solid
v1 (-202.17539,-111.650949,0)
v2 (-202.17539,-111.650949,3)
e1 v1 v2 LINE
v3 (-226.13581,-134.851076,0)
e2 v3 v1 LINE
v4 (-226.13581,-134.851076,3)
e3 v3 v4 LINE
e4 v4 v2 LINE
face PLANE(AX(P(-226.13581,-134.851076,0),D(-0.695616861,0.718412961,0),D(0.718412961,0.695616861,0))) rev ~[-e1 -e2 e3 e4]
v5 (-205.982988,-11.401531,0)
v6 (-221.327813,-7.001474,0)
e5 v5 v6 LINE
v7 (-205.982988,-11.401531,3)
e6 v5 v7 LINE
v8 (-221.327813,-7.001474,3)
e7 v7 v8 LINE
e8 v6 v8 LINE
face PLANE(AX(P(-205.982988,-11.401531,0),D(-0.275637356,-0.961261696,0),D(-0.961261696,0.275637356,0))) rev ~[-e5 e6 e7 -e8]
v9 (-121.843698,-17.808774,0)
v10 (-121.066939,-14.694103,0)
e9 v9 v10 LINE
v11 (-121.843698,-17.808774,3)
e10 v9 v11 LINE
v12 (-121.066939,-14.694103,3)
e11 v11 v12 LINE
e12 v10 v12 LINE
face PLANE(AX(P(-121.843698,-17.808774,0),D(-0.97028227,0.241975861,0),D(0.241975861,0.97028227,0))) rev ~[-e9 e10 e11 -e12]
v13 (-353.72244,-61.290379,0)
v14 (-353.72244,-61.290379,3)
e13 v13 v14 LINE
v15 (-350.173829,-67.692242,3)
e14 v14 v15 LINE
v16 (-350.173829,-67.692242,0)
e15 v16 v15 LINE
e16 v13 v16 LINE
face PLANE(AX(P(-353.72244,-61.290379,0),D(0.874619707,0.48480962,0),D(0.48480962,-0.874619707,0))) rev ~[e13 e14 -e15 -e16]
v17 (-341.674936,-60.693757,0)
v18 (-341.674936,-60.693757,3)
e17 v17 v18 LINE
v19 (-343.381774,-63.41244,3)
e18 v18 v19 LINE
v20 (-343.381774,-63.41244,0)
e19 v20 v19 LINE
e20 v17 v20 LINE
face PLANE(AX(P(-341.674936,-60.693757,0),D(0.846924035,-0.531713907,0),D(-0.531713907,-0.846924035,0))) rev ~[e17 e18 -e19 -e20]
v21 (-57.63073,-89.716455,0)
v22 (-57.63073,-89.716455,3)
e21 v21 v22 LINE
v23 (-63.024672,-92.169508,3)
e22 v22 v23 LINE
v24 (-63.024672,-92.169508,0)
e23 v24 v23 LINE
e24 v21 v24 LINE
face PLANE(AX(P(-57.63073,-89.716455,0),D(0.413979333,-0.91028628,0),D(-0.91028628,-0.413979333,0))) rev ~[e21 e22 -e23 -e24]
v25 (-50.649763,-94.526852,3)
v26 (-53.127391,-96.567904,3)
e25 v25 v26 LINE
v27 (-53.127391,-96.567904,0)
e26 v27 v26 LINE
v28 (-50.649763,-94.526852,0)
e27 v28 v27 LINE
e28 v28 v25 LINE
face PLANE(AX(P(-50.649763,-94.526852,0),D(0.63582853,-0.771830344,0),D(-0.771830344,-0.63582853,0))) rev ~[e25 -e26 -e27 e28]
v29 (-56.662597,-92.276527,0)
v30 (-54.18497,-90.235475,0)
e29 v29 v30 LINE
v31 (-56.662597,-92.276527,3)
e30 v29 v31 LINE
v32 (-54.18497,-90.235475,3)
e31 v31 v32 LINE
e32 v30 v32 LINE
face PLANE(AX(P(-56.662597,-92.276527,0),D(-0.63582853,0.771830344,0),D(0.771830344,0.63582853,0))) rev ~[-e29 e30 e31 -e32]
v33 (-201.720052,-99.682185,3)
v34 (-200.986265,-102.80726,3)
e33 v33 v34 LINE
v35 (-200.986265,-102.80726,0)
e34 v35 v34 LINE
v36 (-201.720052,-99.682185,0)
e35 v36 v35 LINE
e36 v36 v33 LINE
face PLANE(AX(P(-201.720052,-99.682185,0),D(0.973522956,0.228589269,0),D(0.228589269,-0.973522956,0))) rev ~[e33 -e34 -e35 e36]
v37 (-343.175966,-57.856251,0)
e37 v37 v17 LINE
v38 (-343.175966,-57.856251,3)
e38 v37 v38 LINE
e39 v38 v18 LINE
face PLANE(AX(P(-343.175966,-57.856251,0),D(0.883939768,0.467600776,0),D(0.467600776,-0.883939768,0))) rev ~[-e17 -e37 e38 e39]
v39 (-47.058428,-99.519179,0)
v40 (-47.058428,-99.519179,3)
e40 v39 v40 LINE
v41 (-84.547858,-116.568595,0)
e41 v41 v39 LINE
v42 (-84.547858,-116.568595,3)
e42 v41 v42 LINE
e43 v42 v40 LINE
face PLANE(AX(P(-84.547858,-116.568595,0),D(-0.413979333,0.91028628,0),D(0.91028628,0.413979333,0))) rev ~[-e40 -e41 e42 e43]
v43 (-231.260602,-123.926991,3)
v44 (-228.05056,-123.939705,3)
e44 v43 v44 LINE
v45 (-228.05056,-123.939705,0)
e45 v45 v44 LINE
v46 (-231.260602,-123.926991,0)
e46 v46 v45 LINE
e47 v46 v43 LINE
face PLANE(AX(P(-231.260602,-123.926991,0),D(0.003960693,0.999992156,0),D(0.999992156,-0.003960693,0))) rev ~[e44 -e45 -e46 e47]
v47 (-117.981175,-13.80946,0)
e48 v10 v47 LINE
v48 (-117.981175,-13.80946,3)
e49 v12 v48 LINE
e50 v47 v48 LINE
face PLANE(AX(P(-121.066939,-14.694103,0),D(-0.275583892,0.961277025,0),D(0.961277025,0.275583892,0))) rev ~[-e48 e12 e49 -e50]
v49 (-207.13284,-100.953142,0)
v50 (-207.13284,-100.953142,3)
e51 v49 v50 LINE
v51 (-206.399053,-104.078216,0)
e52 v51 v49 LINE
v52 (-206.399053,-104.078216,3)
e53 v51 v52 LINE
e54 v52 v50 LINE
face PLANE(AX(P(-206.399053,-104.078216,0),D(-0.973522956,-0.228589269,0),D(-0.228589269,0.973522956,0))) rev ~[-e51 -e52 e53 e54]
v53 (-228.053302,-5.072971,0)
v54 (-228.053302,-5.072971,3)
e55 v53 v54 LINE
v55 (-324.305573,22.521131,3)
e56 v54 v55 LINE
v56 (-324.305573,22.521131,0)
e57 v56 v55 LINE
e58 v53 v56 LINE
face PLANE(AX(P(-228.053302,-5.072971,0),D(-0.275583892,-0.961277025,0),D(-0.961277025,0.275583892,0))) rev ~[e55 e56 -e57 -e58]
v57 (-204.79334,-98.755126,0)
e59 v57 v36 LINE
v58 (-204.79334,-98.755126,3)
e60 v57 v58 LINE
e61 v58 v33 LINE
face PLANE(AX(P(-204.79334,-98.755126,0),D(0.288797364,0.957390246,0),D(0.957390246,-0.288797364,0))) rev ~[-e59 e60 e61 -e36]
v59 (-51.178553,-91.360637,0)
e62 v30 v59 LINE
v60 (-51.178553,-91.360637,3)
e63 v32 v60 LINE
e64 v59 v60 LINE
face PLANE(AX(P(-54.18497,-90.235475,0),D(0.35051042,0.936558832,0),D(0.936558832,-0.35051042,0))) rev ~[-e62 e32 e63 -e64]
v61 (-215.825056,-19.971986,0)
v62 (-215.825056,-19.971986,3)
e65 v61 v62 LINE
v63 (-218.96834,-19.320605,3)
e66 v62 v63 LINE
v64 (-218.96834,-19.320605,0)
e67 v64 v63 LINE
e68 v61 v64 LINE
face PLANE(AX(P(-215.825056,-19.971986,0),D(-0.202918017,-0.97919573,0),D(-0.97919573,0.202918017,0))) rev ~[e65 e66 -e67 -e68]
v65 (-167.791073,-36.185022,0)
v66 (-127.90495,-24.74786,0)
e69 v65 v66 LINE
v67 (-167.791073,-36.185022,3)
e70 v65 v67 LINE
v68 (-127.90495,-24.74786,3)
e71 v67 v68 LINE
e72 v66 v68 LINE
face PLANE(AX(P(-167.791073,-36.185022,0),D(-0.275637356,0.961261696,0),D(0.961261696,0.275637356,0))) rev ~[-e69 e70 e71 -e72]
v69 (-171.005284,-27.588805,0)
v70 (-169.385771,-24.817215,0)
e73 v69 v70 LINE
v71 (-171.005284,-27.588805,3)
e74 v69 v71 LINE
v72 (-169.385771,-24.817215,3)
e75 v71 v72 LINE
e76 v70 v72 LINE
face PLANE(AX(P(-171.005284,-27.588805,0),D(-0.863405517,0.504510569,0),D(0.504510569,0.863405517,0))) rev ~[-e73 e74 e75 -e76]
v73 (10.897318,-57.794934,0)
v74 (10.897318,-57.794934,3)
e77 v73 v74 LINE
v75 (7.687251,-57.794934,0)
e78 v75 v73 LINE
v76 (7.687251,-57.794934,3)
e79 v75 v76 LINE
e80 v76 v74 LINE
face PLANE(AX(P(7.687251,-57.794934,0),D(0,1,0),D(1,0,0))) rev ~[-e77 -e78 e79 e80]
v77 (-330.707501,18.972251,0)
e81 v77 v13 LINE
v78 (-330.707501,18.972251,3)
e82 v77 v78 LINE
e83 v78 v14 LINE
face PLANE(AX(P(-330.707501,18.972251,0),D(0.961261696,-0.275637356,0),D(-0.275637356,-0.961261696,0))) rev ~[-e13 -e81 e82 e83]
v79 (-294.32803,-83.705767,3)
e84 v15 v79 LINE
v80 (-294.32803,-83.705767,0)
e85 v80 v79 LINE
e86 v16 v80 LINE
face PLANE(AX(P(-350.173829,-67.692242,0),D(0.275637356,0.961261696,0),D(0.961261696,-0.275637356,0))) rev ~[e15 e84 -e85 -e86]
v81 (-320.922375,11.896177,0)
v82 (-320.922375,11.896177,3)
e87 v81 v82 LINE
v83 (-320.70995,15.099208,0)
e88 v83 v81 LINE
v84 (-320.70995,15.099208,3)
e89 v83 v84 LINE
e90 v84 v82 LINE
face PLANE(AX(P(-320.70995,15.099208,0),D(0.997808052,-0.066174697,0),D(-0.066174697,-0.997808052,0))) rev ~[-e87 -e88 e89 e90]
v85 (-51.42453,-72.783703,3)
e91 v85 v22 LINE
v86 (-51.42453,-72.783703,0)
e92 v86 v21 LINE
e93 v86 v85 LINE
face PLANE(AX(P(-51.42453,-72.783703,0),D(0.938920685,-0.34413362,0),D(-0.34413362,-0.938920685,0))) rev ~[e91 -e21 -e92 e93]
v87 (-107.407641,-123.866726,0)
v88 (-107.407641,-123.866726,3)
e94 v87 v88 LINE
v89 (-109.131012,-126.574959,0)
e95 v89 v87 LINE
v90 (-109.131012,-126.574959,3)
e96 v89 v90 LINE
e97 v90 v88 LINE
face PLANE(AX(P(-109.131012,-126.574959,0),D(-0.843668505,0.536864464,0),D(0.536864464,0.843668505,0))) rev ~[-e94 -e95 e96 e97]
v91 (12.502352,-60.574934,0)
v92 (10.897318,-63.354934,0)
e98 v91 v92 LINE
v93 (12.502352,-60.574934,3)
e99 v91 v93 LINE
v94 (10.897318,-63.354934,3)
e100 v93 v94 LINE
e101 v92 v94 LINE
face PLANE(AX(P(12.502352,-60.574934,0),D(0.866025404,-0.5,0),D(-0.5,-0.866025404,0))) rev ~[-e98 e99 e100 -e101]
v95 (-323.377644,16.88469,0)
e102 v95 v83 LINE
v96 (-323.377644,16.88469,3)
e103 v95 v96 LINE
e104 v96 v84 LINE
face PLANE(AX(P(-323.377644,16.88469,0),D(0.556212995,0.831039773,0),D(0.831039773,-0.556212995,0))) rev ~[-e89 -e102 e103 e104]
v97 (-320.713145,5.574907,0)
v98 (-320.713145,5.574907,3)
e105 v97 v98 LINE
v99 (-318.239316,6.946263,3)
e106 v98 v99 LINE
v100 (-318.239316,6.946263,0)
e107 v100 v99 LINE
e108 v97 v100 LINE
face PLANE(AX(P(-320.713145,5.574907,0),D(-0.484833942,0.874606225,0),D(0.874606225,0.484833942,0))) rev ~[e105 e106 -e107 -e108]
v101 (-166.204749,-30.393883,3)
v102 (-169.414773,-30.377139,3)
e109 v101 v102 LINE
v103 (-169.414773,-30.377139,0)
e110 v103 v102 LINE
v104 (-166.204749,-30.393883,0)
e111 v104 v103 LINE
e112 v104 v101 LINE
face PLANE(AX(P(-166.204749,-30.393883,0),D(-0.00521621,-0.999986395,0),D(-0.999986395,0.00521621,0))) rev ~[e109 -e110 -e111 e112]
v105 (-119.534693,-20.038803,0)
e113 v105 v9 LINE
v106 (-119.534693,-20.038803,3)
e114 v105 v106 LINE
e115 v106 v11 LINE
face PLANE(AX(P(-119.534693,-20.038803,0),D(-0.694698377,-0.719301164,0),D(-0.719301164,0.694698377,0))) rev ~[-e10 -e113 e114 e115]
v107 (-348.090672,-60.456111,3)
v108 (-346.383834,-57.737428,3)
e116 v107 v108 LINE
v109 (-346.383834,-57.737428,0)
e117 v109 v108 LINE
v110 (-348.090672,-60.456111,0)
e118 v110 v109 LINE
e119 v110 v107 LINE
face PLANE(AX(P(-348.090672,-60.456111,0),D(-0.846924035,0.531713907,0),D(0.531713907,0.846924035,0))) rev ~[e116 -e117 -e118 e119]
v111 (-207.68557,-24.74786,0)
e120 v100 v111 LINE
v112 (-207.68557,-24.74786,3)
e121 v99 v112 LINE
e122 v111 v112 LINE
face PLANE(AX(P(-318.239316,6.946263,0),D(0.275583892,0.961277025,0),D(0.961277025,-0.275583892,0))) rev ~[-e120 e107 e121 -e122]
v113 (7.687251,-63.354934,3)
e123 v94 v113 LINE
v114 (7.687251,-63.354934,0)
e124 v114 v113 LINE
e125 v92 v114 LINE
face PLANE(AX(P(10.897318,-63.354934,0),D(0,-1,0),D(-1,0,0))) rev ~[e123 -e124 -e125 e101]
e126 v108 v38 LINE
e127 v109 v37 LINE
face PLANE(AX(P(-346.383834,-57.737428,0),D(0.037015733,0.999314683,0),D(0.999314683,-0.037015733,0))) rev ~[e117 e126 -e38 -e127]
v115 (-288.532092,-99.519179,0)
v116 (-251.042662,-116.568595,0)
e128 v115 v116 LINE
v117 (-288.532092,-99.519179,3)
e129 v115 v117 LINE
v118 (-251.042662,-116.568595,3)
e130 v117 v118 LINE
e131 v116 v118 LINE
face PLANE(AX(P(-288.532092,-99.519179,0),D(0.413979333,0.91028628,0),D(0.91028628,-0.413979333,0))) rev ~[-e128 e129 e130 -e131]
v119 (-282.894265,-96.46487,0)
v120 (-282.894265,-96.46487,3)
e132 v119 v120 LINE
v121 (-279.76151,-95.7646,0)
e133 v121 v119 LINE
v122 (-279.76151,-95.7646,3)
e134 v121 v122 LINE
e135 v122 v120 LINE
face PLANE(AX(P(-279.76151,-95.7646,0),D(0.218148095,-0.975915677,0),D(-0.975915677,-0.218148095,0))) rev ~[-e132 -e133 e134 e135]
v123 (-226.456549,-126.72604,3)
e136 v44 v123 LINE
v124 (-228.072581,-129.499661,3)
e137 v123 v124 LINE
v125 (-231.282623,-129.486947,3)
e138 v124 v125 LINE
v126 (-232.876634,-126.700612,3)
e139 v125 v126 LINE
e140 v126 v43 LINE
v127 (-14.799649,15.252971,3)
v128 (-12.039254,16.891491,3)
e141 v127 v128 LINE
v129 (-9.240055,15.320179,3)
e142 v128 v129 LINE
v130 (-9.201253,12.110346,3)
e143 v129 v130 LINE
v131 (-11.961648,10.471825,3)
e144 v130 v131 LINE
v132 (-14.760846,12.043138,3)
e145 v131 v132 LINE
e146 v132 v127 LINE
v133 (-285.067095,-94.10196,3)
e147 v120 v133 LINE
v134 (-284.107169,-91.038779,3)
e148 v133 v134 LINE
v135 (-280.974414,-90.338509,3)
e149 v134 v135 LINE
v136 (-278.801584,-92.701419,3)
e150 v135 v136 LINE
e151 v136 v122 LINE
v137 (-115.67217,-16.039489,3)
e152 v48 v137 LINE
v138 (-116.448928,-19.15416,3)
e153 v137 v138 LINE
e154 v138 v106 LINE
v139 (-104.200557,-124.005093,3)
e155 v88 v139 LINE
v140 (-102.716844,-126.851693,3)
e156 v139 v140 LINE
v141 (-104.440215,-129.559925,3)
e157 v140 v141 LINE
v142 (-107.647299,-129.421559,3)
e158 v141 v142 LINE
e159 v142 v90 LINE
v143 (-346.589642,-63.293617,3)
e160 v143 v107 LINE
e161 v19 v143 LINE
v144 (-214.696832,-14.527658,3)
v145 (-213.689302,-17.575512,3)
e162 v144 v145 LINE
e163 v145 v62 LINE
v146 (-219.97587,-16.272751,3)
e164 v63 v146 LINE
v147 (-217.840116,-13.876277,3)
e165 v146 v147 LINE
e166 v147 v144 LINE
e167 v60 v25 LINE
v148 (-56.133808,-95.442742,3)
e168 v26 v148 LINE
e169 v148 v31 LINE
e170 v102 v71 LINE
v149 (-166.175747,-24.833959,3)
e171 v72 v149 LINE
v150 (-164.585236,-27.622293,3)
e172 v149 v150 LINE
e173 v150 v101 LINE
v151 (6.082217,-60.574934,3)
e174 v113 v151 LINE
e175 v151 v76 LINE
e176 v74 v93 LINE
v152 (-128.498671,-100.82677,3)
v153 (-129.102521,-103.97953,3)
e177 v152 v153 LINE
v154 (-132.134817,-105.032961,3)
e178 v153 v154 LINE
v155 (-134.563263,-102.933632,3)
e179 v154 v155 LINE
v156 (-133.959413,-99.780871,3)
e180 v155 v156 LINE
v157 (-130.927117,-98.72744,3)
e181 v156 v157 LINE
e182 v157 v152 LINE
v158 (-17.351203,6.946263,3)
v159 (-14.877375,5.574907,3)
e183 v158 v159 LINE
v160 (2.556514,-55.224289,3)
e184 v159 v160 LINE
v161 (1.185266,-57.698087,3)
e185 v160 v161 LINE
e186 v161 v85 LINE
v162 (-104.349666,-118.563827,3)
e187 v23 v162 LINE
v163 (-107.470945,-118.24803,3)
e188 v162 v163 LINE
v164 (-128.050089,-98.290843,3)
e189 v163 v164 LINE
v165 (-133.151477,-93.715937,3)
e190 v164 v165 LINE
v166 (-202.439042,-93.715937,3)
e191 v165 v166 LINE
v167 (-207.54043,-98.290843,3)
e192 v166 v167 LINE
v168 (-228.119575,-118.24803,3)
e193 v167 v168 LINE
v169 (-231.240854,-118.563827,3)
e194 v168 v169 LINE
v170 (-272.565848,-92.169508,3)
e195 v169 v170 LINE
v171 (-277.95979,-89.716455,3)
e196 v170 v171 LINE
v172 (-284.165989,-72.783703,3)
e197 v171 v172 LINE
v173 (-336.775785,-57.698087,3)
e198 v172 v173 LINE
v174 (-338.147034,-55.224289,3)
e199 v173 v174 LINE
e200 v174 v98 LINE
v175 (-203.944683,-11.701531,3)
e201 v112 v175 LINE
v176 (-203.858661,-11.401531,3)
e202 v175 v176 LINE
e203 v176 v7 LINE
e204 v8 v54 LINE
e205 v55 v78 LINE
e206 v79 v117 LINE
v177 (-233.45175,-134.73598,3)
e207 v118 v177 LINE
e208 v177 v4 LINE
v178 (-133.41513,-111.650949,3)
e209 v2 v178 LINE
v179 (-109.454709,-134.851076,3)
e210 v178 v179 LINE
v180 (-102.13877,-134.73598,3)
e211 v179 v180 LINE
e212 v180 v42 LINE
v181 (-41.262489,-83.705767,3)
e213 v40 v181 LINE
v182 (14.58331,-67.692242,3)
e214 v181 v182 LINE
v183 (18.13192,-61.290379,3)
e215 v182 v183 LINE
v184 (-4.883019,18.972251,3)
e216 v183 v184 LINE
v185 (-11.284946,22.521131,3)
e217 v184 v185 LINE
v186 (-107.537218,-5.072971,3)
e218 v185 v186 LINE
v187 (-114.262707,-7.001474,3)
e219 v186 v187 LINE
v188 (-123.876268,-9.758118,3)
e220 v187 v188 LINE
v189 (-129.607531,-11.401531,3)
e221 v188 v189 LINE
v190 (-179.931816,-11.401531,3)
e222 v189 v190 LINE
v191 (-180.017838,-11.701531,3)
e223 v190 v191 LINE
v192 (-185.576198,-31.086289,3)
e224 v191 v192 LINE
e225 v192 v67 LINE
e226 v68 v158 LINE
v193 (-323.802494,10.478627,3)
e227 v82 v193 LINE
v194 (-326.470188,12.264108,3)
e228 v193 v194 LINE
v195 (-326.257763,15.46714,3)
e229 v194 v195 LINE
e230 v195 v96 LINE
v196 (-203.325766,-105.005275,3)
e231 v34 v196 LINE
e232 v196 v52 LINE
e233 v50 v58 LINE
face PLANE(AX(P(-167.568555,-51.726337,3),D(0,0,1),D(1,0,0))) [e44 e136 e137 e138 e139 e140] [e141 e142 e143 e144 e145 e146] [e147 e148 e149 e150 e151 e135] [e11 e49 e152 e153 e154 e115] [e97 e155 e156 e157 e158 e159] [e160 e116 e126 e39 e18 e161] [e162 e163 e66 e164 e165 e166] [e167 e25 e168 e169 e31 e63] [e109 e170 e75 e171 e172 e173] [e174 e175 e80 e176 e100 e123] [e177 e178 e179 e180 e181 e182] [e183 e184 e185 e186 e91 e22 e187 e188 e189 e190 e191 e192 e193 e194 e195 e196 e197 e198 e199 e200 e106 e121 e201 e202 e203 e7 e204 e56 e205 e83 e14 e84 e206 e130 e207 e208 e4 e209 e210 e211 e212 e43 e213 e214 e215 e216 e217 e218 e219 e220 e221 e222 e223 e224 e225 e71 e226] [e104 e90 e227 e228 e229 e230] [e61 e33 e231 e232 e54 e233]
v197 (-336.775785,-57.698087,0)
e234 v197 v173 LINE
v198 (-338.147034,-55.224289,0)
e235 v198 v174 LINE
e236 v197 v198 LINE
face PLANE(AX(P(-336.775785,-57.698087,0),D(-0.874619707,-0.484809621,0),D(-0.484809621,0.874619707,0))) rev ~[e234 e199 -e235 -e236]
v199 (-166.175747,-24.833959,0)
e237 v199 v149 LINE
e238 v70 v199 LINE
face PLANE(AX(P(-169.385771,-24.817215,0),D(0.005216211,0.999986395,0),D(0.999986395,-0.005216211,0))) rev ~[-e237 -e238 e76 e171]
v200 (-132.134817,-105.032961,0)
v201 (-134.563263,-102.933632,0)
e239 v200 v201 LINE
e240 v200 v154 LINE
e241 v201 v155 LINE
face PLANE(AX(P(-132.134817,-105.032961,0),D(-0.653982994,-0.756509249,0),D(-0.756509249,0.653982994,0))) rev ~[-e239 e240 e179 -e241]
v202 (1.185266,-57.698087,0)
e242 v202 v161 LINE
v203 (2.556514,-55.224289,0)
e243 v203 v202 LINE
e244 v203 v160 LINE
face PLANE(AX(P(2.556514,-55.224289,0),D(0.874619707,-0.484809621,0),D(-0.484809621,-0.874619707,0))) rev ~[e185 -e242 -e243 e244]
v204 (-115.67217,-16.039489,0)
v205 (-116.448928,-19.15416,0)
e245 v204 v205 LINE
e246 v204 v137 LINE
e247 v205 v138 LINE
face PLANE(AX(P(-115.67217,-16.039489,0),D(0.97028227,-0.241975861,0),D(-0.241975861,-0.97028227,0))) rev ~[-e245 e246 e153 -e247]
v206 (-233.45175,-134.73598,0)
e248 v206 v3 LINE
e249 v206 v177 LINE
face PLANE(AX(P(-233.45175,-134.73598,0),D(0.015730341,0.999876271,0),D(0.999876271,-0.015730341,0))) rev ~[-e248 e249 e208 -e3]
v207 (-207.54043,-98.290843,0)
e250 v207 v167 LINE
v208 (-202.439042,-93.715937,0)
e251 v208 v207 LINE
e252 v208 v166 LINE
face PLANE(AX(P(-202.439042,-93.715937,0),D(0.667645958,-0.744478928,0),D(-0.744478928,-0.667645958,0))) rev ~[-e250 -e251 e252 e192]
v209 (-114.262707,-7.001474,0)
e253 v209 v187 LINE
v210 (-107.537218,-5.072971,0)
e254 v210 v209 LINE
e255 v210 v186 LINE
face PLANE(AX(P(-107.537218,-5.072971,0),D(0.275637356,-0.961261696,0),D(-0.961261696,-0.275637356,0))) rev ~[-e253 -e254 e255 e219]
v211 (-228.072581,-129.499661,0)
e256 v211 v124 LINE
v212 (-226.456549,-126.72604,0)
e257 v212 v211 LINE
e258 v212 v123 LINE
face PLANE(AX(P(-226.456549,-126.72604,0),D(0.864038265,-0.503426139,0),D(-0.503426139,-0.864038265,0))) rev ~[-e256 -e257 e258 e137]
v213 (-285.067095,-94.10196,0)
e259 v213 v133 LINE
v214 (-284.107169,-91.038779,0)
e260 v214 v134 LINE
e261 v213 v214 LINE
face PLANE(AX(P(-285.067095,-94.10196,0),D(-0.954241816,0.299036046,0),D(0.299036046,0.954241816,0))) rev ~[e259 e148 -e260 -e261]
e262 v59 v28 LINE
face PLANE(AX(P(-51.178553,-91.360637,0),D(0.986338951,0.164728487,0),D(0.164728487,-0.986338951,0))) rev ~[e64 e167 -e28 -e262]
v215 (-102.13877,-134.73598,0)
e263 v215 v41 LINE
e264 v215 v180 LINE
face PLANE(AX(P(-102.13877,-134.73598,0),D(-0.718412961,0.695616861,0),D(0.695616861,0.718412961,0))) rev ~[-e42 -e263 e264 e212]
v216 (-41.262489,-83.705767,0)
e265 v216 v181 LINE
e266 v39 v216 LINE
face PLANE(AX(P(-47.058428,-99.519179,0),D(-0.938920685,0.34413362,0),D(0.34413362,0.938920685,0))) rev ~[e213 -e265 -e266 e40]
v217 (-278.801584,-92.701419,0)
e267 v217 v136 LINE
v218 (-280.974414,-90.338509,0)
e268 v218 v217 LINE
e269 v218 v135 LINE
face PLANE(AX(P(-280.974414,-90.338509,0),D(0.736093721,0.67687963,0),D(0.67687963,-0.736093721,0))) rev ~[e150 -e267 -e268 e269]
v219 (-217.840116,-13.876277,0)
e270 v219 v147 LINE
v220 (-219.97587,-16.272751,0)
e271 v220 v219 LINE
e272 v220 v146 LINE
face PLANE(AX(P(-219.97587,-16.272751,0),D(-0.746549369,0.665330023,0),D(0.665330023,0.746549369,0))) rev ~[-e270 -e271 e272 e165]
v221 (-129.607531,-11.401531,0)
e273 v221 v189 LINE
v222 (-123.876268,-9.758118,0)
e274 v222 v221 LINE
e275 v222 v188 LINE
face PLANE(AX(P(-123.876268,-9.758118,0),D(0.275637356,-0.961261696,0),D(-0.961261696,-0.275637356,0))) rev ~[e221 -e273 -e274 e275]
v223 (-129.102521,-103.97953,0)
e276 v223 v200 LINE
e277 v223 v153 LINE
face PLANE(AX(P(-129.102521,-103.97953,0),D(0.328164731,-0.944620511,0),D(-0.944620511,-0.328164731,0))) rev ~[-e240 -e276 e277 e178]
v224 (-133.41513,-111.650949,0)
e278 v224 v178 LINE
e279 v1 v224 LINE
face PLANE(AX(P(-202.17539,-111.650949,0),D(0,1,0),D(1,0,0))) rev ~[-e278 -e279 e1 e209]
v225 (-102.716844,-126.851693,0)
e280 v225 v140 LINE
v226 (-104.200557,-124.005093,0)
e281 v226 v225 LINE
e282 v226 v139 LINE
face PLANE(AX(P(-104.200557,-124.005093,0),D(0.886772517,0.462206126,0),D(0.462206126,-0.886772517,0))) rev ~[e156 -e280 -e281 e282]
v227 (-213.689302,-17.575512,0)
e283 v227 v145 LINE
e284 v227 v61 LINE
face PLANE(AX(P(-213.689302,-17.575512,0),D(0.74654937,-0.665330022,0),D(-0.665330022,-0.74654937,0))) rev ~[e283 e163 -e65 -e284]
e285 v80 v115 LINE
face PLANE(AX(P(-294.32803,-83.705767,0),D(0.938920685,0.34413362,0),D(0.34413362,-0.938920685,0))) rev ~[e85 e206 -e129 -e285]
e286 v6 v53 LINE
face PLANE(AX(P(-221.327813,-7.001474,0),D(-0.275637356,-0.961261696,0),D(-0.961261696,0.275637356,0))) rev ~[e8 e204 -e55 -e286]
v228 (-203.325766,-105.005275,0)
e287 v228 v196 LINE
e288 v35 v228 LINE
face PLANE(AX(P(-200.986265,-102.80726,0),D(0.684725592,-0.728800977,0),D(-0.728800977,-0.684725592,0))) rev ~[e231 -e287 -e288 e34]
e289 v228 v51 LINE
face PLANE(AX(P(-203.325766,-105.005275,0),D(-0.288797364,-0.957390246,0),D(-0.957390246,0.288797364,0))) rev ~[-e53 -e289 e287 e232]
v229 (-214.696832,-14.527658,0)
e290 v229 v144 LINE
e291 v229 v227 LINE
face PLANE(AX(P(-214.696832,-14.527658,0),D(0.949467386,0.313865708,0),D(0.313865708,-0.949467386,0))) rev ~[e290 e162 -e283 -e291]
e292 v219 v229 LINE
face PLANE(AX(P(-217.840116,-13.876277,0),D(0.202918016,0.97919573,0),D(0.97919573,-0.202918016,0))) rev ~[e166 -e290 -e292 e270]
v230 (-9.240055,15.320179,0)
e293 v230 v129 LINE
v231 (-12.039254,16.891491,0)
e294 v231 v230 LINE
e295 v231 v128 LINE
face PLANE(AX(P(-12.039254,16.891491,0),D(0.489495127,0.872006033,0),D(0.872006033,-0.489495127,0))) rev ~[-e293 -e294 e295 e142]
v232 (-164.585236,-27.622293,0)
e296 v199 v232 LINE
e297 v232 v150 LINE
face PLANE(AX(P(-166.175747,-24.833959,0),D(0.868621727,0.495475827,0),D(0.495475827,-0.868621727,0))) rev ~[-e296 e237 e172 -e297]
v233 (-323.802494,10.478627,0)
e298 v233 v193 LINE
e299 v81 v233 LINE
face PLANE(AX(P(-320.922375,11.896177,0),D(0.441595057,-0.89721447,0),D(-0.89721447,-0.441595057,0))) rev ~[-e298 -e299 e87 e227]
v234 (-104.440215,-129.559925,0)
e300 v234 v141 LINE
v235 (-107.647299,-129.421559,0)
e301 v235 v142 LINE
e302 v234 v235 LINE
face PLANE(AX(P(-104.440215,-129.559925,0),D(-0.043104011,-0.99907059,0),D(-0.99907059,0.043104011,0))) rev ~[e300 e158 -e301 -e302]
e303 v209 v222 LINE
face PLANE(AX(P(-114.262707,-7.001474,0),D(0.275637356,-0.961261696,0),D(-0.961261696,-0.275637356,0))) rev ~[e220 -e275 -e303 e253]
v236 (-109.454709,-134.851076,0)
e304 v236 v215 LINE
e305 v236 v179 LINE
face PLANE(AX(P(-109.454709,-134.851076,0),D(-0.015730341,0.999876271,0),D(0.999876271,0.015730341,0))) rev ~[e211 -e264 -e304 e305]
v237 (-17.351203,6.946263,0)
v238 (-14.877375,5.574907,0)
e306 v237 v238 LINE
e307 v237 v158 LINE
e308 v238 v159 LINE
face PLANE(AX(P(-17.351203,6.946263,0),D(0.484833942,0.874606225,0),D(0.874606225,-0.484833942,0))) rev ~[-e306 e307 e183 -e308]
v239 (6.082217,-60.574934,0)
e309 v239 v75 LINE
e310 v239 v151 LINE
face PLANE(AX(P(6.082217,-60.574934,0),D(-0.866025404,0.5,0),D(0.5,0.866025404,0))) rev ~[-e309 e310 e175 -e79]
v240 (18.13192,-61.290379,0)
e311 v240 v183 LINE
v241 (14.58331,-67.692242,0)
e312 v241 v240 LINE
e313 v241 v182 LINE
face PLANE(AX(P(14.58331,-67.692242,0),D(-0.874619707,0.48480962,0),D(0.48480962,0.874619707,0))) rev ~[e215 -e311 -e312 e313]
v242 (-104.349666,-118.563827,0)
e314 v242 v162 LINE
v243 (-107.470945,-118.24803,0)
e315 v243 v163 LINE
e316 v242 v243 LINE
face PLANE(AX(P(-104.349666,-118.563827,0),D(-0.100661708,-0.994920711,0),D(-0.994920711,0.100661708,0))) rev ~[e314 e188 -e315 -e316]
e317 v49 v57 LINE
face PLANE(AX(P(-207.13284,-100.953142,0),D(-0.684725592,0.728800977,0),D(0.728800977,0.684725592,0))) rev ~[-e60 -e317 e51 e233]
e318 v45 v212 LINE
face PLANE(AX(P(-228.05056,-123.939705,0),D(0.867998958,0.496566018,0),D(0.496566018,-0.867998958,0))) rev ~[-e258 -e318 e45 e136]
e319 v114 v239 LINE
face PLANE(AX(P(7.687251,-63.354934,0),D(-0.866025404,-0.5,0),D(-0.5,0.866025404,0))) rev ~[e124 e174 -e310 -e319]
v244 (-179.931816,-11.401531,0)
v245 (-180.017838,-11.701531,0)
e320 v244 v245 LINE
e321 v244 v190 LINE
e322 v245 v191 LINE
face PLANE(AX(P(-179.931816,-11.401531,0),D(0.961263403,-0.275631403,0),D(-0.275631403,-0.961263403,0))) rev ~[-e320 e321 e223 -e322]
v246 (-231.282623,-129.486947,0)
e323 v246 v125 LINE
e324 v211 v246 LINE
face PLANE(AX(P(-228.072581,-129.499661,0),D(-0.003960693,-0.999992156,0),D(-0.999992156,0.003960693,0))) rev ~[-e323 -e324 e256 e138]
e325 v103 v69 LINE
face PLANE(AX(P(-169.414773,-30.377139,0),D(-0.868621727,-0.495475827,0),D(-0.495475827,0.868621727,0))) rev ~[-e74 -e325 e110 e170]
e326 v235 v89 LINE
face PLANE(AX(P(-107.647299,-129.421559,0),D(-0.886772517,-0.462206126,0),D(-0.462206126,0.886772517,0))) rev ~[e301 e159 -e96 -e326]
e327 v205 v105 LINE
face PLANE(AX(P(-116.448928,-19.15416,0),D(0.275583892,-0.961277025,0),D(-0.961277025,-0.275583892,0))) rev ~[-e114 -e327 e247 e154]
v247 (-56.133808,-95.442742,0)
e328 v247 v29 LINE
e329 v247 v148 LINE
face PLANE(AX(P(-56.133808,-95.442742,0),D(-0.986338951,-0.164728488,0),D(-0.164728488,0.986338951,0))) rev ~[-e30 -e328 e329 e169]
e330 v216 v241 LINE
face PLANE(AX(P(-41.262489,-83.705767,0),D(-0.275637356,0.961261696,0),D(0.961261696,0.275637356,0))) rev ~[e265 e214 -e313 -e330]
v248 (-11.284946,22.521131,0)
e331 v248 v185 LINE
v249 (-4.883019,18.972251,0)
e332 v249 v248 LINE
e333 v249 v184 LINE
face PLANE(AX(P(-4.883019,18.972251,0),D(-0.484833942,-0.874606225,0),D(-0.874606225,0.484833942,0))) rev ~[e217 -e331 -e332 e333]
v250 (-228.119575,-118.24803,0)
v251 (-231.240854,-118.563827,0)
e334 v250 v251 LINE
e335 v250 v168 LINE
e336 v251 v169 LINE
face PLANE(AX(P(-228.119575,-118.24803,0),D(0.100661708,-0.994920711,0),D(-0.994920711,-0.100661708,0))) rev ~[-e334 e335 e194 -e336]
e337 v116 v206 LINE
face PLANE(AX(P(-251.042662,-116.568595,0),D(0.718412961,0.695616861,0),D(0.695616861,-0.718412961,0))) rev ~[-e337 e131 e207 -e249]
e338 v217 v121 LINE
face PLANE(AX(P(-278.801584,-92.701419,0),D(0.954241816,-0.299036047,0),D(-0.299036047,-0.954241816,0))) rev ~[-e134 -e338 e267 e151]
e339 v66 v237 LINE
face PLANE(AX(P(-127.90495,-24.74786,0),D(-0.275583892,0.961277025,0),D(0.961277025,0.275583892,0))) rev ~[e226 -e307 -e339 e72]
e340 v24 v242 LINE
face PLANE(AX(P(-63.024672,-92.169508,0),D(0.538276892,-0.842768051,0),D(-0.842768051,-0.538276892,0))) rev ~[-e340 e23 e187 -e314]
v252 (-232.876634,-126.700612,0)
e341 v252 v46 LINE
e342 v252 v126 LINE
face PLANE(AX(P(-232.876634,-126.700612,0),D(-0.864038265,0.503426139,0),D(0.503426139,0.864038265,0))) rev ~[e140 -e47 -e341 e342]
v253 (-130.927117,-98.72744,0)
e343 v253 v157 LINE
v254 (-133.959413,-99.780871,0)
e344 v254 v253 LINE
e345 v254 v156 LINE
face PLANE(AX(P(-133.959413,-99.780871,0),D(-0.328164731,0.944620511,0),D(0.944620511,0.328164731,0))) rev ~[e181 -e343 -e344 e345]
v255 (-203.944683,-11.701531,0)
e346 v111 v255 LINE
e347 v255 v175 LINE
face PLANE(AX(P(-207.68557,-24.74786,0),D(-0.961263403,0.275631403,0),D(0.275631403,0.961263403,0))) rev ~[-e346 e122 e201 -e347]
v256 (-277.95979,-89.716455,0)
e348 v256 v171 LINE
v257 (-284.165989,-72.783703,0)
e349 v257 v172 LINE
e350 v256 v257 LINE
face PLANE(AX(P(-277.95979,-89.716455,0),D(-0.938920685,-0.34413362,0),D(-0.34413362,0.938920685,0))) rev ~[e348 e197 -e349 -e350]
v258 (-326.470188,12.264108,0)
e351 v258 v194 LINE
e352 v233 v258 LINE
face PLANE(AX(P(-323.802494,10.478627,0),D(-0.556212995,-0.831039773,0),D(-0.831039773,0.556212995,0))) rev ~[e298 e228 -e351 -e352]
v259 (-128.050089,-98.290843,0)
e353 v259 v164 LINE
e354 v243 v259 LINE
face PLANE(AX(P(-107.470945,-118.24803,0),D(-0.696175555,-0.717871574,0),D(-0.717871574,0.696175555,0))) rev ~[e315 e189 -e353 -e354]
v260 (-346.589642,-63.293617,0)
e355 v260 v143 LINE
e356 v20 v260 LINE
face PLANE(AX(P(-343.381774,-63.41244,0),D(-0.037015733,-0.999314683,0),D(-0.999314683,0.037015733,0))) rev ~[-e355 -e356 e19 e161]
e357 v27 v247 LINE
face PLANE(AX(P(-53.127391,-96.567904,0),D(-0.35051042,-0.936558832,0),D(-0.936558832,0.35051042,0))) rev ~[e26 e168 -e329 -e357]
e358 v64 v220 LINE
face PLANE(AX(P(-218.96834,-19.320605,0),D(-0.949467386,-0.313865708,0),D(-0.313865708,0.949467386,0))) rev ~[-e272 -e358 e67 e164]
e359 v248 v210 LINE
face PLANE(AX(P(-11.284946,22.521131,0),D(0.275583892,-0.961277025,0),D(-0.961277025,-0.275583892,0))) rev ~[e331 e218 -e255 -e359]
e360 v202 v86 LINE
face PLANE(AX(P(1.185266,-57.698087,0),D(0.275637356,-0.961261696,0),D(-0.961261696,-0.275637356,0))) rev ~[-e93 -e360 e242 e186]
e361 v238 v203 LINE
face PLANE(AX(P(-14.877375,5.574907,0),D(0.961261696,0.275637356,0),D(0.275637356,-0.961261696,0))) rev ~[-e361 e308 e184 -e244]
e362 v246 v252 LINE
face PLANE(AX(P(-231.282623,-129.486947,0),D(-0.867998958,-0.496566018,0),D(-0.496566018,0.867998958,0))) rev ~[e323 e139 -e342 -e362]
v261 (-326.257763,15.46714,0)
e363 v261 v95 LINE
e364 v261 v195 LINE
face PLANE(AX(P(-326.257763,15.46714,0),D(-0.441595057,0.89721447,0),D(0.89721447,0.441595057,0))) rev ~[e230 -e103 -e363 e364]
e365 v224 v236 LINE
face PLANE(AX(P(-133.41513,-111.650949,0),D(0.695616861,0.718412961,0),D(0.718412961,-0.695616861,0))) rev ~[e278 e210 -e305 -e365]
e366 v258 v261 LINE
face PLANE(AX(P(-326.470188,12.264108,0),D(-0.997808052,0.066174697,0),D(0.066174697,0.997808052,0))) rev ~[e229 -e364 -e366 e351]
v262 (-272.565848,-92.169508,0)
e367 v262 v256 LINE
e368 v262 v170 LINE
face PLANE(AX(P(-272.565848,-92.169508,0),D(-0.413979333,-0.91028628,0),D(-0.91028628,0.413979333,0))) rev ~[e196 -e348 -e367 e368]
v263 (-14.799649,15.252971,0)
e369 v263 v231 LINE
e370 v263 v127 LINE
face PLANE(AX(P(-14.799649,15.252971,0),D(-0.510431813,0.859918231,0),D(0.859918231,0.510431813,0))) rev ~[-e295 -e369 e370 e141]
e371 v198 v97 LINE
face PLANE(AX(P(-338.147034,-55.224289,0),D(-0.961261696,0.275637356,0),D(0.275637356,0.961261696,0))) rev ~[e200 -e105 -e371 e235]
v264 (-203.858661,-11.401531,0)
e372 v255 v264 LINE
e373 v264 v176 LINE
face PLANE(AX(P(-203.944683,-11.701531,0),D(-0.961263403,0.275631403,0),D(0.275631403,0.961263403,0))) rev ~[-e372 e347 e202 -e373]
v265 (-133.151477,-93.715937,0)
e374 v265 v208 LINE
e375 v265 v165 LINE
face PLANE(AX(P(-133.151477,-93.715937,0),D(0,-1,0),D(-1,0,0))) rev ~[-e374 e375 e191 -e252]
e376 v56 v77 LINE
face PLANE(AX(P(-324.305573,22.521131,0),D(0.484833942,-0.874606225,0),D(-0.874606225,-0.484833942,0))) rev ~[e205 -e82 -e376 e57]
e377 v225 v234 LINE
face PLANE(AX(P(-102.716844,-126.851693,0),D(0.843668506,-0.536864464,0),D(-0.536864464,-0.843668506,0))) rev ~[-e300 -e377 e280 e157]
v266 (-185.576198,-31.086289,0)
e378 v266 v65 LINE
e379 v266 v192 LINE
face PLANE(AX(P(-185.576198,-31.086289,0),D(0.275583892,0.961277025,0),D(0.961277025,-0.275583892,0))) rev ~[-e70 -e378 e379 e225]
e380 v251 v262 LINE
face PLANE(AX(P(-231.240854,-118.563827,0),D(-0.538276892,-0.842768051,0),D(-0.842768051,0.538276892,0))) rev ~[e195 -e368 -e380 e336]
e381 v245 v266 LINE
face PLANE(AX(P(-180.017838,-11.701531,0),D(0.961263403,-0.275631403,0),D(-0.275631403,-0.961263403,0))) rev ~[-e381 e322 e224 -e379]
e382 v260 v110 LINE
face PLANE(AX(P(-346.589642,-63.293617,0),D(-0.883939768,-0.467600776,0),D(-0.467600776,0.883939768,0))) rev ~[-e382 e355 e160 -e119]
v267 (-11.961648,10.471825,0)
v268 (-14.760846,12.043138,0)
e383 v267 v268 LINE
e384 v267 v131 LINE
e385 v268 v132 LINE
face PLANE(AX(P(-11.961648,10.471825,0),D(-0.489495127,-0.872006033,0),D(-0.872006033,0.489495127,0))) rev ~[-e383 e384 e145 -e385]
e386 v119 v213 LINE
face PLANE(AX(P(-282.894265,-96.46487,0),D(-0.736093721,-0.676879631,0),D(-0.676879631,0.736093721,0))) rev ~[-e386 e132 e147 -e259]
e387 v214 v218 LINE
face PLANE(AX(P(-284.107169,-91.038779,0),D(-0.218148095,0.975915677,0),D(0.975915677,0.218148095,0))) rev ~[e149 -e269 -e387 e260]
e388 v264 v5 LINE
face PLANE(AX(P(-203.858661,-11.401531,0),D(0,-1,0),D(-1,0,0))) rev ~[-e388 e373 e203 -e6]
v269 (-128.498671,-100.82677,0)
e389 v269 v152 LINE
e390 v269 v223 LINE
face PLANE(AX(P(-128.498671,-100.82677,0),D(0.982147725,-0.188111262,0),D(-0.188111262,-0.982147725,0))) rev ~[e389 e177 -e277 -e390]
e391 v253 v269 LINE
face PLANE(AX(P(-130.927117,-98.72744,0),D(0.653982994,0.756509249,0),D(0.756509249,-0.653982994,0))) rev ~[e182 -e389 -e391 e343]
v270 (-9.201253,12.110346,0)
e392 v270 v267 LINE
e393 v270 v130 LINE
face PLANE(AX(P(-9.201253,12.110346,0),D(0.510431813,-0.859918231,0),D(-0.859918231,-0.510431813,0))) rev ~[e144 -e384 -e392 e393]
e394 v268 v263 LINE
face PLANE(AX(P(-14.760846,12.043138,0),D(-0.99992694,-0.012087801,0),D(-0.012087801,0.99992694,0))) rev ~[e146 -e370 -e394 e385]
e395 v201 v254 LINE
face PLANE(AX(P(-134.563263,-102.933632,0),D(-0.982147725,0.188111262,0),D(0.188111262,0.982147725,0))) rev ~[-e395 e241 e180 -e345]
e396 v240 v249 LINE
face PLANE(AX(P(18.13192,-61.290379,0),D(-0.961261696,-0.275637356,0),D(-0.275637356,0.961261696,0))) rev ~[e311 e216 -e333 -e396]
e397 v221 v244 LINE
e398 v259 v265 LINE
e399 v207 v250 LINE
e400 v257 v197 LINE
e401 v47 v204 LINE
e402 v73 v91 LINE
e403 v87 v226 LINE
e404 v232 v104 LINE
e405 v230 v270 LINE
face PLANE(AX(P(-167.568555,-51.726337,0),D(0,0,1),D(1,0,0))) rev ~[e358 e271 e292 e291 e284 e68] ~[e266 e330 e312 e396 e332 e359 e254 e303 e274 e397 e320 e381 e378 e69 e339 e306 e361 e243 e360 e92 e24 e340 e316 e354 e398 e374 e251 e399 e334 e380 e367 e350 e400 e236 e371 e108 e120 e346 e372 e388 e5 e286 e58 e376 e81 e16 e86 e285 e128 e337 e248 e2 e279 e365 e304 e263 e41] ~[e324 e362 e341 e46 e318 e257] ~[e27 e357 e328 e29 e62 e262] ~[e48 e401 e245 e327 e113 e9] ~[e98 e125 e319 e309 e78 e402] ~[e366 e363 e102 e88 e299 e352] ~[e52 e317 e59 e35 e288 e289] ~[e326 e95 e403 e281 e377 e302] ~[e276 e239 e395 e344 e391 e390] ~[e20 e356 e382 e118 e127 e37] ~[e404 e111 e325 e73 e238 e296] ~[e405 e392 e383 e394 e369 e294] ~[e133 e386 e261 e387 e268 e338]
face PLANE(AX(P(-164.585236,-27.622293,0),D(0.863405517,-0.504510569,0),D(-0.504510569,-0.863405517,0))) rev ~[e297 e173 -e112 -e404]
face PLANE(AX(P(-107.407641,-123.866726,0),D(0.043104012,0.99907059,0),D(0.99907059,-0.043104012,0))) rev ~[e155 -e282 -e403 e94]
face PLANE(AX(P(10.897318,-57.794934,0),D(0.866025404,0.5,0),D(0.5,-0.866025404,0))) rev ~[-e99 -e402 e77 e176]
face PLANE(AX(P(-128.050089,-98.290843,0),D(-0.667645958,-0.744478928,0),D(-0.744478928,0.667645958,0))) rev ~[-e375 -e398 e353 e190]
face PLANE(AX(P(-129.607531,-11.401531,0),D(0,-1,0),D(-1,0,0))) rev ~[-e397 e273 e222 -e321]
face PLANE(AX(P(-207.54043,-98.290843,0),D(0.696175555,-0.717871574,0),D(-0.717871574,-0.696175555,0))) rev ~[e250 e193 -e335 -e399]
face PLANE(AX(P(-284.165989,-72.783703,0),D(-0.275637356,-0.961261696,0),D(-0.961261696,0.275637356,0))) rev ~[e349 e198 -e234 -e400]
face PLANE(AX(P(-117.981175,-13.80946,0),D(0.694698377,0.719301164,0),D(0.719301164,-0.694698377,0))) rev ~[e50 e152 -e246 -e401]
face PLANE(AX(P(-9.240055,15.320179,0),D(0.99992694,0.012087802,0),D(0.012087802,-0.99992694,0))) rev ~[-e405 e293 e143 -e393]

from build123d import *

# Parameters (mm, degrees)
BOSS_EXTRU_1_DEPTH = 3


with BuildPart() as part:
    # Esquisse1 → Boss.-Extru.1 (new body)
    with BuildSketch(Plane.XY):
        Polygon((-179.931816419, -11.401531345), (-180.017838024, -11.701531345), (-185.57619805, -31.086289447), (-167.791072806, -36.185021562), (-127.904950096, -24.747859919), (-17.351203316, 6.946262636), (-14.877374555, 5.574907028), (2.556514314, -55.224288823), (1.185265633, -57.698086926), (-51.424530344, -72.783703169), (-57.630729871, -89.716454796), (-63.024672228, -92.169507978), (-104.349665635, -118.563827288), (-107.470944884, -118.248029963), (-128.050089261, -98.290842938), (-133.151477342, -93.715936913), (-202.439042401, -93.715936913), (-207.540430482, -98.290842938), (-228.119574859, -118.248029963), (-231.240854108, -118.563827288), (-272.565847516, -92.169507978), (-277.959789872, -89.716454796), (-284.165989399, -72.783703169), (-336.775785376, -57.698086926), (-338.147034057, -55.224288823), (-320.713145188, 5.574907028), (-318.239316427, 6.946262636), (-207.685569647, -24.747859919), (-203.944682562, -11.701531345), (-203.858660957, -11.401531345), (-205.982988252, -11.401531345), (-221.327812729, -7.001473731), (-228.053301524, -5.072970852), (-324.305573392, 22.521130566), (-330.707501003, 18.97225141), (-353.72243999, -61.290379239), (-350.173829458, -67.692242105), (-294.328030452, -83.705767284), (-288.532091821, -99.519179156), (-251.042661762, -116.568594893), (-233.45174982, -134.735979634), (-226.135810249, -134.851076098), (-202.175390102, -111.650948678), (-133.415129641, -111.650948678), (-109.454709494, -134.851076098), (-102.138769923, -134.735979634), (-84.547857981, -116.568594893), (-47.058427922, -99.519179156), (-41.262489291, -83.705767284), (14.583309715, -67.692242105), (18.131920247, -61.290379239), (-4.88301874, 18.97225141), (-11.284946351, 22.521130566), (-107.537218219, -5.072970852), (-114.262707014, -7.001473731), (-123.876268292, -9.758118068), (-129.607531491, -11.401531345), (-167.175777529, -11.401531345), align=None)
        Polygon((-226.456549288, -126.726039887), (-228.072581173, -129.499661036), (-231.282623491, -129.486946945), (-232.876633924, -126.700611704), (-231.260602039, -123.926990555), (-228.050559721, -123.939704646), align=None, mode=Mode.SUBTRACT)
        Polygon((-201.720052379, -99.68218544), (-200.986265397, -102.807259839), (-203.325765724, -105.005275206), (-206.399053033, -104.078216174), (-207.132840016, -100.953141775), (-204.793339689, -98.755126408), align=None, mode=Mode.SUBTRACT)
        Polygon((-278.801584282, -92.701419409), (-279.761510176, -95.764600045), (-282.89426537, -96.464870154), (-285.067094671, -94.101959627), (-284.107168778, -91.03877899), (-280.974413583, -90.338508881), align=None, mode=Mode.SUBTRACT)
        Polygon((-341.674936445, -60.693756917), (-343.381773974, -63.412440235), (-346.589641557, -63.293617233), (-348.09067161, -60.456110913), (-346.38383408, -57.737427596), (-343.175966498, -57.856250598), align=None, mode=Mode.SUBTRACT)
        Polygon((-102.716844109, -126.851692582), (-104.440215275, -129.559925429), (-107.647299303, -129.421558643), (-109.131012166, -126.574959009), (-107.407640999, -123.866726161), (-104.200556971, -124.005092948), align=None, mode=Mode.SUBTRACT)
        Polygon((-129.102521286, -103.979530359), (-132.134816884, -105.032961295), (-134.563262635, -102.933631743), (-133.959412787, -99.780871255), (-130.927117189, -98.727440319), (-128.498671438, -100.826769871), align=None, mode=Mode.SUBTRACT)
        Polygon((-51.178552765, -91.36063702), (-50.649763202, -94.526851626), (-53.127390703, -96.567904124), (-56.133807767, -95.442742016), (-56.662597331, -92.27652741), (-54.18496983, -90.235474912), align=None, mode=Mode.SUBTRACT)
        Polygon((10.897318032, -57.794933915), (12.502351781, -60.574933915), (10.897318032, -63.354933915), (7.687250536, -63.354933915), (6.082216787, -60.574933915), (7.687250536, -57.794933915), align=None, mode=Mode.SUBTRACT)
        Polygon((-217.840116073, -13.876277124), (-214.696831686, -14.527657653), (-213.689301579, -17.575512049), (-215.825055858, -19.971985915), (-218.968340246, -19.320605385), (-219.975870353, -16.272750989), align=None, mode=Mode.SUBTRACT)
        Polygon((-326.25776259, 15.467139628), (-323.377643582, 16.884689567), (-320.709949819, 15.09920831), (-320.922375064, 11.896177113), (-323.802494072, 10.478627174), (-326.470187835, 12.264108431), align=None, mode=Mode.SUBTRACT)
        Polygon((-169.385770719, -24.817214521), (-166.175746894, -24.833958909), (-164.585236046, -27.622293282), (-166.204749024, -30.393883267), (-169.414772849, -30.37713888), (-171.005283697, -27.588804506), align=None, mode=Mode.SUBTRACT)
        Polygon((-117.981174931, -13.809459943), (-115.672169645, -16.039488624), (-116.448928491, -19.154160201), (-119.534692623, -20.038803095), (-121.84369791, -17.808774414), (-121.066939064, -14.694102838), align=None, mode=Mode.SUBTRACT)
        Polygon((-12.039253575, 16.891491339), (-9.240055353, 15.320178943), (-9.201252694, 12.110345974), (-11.961648258, 10.471825402), (-14.76084648, 12.043137798), (-14.799649138, 15.252970767), align=None, mode=Mode.SUBTRACT)
    extrude(amount=BOSS_EXTRU_1_DEPTH)


solid = part.part
